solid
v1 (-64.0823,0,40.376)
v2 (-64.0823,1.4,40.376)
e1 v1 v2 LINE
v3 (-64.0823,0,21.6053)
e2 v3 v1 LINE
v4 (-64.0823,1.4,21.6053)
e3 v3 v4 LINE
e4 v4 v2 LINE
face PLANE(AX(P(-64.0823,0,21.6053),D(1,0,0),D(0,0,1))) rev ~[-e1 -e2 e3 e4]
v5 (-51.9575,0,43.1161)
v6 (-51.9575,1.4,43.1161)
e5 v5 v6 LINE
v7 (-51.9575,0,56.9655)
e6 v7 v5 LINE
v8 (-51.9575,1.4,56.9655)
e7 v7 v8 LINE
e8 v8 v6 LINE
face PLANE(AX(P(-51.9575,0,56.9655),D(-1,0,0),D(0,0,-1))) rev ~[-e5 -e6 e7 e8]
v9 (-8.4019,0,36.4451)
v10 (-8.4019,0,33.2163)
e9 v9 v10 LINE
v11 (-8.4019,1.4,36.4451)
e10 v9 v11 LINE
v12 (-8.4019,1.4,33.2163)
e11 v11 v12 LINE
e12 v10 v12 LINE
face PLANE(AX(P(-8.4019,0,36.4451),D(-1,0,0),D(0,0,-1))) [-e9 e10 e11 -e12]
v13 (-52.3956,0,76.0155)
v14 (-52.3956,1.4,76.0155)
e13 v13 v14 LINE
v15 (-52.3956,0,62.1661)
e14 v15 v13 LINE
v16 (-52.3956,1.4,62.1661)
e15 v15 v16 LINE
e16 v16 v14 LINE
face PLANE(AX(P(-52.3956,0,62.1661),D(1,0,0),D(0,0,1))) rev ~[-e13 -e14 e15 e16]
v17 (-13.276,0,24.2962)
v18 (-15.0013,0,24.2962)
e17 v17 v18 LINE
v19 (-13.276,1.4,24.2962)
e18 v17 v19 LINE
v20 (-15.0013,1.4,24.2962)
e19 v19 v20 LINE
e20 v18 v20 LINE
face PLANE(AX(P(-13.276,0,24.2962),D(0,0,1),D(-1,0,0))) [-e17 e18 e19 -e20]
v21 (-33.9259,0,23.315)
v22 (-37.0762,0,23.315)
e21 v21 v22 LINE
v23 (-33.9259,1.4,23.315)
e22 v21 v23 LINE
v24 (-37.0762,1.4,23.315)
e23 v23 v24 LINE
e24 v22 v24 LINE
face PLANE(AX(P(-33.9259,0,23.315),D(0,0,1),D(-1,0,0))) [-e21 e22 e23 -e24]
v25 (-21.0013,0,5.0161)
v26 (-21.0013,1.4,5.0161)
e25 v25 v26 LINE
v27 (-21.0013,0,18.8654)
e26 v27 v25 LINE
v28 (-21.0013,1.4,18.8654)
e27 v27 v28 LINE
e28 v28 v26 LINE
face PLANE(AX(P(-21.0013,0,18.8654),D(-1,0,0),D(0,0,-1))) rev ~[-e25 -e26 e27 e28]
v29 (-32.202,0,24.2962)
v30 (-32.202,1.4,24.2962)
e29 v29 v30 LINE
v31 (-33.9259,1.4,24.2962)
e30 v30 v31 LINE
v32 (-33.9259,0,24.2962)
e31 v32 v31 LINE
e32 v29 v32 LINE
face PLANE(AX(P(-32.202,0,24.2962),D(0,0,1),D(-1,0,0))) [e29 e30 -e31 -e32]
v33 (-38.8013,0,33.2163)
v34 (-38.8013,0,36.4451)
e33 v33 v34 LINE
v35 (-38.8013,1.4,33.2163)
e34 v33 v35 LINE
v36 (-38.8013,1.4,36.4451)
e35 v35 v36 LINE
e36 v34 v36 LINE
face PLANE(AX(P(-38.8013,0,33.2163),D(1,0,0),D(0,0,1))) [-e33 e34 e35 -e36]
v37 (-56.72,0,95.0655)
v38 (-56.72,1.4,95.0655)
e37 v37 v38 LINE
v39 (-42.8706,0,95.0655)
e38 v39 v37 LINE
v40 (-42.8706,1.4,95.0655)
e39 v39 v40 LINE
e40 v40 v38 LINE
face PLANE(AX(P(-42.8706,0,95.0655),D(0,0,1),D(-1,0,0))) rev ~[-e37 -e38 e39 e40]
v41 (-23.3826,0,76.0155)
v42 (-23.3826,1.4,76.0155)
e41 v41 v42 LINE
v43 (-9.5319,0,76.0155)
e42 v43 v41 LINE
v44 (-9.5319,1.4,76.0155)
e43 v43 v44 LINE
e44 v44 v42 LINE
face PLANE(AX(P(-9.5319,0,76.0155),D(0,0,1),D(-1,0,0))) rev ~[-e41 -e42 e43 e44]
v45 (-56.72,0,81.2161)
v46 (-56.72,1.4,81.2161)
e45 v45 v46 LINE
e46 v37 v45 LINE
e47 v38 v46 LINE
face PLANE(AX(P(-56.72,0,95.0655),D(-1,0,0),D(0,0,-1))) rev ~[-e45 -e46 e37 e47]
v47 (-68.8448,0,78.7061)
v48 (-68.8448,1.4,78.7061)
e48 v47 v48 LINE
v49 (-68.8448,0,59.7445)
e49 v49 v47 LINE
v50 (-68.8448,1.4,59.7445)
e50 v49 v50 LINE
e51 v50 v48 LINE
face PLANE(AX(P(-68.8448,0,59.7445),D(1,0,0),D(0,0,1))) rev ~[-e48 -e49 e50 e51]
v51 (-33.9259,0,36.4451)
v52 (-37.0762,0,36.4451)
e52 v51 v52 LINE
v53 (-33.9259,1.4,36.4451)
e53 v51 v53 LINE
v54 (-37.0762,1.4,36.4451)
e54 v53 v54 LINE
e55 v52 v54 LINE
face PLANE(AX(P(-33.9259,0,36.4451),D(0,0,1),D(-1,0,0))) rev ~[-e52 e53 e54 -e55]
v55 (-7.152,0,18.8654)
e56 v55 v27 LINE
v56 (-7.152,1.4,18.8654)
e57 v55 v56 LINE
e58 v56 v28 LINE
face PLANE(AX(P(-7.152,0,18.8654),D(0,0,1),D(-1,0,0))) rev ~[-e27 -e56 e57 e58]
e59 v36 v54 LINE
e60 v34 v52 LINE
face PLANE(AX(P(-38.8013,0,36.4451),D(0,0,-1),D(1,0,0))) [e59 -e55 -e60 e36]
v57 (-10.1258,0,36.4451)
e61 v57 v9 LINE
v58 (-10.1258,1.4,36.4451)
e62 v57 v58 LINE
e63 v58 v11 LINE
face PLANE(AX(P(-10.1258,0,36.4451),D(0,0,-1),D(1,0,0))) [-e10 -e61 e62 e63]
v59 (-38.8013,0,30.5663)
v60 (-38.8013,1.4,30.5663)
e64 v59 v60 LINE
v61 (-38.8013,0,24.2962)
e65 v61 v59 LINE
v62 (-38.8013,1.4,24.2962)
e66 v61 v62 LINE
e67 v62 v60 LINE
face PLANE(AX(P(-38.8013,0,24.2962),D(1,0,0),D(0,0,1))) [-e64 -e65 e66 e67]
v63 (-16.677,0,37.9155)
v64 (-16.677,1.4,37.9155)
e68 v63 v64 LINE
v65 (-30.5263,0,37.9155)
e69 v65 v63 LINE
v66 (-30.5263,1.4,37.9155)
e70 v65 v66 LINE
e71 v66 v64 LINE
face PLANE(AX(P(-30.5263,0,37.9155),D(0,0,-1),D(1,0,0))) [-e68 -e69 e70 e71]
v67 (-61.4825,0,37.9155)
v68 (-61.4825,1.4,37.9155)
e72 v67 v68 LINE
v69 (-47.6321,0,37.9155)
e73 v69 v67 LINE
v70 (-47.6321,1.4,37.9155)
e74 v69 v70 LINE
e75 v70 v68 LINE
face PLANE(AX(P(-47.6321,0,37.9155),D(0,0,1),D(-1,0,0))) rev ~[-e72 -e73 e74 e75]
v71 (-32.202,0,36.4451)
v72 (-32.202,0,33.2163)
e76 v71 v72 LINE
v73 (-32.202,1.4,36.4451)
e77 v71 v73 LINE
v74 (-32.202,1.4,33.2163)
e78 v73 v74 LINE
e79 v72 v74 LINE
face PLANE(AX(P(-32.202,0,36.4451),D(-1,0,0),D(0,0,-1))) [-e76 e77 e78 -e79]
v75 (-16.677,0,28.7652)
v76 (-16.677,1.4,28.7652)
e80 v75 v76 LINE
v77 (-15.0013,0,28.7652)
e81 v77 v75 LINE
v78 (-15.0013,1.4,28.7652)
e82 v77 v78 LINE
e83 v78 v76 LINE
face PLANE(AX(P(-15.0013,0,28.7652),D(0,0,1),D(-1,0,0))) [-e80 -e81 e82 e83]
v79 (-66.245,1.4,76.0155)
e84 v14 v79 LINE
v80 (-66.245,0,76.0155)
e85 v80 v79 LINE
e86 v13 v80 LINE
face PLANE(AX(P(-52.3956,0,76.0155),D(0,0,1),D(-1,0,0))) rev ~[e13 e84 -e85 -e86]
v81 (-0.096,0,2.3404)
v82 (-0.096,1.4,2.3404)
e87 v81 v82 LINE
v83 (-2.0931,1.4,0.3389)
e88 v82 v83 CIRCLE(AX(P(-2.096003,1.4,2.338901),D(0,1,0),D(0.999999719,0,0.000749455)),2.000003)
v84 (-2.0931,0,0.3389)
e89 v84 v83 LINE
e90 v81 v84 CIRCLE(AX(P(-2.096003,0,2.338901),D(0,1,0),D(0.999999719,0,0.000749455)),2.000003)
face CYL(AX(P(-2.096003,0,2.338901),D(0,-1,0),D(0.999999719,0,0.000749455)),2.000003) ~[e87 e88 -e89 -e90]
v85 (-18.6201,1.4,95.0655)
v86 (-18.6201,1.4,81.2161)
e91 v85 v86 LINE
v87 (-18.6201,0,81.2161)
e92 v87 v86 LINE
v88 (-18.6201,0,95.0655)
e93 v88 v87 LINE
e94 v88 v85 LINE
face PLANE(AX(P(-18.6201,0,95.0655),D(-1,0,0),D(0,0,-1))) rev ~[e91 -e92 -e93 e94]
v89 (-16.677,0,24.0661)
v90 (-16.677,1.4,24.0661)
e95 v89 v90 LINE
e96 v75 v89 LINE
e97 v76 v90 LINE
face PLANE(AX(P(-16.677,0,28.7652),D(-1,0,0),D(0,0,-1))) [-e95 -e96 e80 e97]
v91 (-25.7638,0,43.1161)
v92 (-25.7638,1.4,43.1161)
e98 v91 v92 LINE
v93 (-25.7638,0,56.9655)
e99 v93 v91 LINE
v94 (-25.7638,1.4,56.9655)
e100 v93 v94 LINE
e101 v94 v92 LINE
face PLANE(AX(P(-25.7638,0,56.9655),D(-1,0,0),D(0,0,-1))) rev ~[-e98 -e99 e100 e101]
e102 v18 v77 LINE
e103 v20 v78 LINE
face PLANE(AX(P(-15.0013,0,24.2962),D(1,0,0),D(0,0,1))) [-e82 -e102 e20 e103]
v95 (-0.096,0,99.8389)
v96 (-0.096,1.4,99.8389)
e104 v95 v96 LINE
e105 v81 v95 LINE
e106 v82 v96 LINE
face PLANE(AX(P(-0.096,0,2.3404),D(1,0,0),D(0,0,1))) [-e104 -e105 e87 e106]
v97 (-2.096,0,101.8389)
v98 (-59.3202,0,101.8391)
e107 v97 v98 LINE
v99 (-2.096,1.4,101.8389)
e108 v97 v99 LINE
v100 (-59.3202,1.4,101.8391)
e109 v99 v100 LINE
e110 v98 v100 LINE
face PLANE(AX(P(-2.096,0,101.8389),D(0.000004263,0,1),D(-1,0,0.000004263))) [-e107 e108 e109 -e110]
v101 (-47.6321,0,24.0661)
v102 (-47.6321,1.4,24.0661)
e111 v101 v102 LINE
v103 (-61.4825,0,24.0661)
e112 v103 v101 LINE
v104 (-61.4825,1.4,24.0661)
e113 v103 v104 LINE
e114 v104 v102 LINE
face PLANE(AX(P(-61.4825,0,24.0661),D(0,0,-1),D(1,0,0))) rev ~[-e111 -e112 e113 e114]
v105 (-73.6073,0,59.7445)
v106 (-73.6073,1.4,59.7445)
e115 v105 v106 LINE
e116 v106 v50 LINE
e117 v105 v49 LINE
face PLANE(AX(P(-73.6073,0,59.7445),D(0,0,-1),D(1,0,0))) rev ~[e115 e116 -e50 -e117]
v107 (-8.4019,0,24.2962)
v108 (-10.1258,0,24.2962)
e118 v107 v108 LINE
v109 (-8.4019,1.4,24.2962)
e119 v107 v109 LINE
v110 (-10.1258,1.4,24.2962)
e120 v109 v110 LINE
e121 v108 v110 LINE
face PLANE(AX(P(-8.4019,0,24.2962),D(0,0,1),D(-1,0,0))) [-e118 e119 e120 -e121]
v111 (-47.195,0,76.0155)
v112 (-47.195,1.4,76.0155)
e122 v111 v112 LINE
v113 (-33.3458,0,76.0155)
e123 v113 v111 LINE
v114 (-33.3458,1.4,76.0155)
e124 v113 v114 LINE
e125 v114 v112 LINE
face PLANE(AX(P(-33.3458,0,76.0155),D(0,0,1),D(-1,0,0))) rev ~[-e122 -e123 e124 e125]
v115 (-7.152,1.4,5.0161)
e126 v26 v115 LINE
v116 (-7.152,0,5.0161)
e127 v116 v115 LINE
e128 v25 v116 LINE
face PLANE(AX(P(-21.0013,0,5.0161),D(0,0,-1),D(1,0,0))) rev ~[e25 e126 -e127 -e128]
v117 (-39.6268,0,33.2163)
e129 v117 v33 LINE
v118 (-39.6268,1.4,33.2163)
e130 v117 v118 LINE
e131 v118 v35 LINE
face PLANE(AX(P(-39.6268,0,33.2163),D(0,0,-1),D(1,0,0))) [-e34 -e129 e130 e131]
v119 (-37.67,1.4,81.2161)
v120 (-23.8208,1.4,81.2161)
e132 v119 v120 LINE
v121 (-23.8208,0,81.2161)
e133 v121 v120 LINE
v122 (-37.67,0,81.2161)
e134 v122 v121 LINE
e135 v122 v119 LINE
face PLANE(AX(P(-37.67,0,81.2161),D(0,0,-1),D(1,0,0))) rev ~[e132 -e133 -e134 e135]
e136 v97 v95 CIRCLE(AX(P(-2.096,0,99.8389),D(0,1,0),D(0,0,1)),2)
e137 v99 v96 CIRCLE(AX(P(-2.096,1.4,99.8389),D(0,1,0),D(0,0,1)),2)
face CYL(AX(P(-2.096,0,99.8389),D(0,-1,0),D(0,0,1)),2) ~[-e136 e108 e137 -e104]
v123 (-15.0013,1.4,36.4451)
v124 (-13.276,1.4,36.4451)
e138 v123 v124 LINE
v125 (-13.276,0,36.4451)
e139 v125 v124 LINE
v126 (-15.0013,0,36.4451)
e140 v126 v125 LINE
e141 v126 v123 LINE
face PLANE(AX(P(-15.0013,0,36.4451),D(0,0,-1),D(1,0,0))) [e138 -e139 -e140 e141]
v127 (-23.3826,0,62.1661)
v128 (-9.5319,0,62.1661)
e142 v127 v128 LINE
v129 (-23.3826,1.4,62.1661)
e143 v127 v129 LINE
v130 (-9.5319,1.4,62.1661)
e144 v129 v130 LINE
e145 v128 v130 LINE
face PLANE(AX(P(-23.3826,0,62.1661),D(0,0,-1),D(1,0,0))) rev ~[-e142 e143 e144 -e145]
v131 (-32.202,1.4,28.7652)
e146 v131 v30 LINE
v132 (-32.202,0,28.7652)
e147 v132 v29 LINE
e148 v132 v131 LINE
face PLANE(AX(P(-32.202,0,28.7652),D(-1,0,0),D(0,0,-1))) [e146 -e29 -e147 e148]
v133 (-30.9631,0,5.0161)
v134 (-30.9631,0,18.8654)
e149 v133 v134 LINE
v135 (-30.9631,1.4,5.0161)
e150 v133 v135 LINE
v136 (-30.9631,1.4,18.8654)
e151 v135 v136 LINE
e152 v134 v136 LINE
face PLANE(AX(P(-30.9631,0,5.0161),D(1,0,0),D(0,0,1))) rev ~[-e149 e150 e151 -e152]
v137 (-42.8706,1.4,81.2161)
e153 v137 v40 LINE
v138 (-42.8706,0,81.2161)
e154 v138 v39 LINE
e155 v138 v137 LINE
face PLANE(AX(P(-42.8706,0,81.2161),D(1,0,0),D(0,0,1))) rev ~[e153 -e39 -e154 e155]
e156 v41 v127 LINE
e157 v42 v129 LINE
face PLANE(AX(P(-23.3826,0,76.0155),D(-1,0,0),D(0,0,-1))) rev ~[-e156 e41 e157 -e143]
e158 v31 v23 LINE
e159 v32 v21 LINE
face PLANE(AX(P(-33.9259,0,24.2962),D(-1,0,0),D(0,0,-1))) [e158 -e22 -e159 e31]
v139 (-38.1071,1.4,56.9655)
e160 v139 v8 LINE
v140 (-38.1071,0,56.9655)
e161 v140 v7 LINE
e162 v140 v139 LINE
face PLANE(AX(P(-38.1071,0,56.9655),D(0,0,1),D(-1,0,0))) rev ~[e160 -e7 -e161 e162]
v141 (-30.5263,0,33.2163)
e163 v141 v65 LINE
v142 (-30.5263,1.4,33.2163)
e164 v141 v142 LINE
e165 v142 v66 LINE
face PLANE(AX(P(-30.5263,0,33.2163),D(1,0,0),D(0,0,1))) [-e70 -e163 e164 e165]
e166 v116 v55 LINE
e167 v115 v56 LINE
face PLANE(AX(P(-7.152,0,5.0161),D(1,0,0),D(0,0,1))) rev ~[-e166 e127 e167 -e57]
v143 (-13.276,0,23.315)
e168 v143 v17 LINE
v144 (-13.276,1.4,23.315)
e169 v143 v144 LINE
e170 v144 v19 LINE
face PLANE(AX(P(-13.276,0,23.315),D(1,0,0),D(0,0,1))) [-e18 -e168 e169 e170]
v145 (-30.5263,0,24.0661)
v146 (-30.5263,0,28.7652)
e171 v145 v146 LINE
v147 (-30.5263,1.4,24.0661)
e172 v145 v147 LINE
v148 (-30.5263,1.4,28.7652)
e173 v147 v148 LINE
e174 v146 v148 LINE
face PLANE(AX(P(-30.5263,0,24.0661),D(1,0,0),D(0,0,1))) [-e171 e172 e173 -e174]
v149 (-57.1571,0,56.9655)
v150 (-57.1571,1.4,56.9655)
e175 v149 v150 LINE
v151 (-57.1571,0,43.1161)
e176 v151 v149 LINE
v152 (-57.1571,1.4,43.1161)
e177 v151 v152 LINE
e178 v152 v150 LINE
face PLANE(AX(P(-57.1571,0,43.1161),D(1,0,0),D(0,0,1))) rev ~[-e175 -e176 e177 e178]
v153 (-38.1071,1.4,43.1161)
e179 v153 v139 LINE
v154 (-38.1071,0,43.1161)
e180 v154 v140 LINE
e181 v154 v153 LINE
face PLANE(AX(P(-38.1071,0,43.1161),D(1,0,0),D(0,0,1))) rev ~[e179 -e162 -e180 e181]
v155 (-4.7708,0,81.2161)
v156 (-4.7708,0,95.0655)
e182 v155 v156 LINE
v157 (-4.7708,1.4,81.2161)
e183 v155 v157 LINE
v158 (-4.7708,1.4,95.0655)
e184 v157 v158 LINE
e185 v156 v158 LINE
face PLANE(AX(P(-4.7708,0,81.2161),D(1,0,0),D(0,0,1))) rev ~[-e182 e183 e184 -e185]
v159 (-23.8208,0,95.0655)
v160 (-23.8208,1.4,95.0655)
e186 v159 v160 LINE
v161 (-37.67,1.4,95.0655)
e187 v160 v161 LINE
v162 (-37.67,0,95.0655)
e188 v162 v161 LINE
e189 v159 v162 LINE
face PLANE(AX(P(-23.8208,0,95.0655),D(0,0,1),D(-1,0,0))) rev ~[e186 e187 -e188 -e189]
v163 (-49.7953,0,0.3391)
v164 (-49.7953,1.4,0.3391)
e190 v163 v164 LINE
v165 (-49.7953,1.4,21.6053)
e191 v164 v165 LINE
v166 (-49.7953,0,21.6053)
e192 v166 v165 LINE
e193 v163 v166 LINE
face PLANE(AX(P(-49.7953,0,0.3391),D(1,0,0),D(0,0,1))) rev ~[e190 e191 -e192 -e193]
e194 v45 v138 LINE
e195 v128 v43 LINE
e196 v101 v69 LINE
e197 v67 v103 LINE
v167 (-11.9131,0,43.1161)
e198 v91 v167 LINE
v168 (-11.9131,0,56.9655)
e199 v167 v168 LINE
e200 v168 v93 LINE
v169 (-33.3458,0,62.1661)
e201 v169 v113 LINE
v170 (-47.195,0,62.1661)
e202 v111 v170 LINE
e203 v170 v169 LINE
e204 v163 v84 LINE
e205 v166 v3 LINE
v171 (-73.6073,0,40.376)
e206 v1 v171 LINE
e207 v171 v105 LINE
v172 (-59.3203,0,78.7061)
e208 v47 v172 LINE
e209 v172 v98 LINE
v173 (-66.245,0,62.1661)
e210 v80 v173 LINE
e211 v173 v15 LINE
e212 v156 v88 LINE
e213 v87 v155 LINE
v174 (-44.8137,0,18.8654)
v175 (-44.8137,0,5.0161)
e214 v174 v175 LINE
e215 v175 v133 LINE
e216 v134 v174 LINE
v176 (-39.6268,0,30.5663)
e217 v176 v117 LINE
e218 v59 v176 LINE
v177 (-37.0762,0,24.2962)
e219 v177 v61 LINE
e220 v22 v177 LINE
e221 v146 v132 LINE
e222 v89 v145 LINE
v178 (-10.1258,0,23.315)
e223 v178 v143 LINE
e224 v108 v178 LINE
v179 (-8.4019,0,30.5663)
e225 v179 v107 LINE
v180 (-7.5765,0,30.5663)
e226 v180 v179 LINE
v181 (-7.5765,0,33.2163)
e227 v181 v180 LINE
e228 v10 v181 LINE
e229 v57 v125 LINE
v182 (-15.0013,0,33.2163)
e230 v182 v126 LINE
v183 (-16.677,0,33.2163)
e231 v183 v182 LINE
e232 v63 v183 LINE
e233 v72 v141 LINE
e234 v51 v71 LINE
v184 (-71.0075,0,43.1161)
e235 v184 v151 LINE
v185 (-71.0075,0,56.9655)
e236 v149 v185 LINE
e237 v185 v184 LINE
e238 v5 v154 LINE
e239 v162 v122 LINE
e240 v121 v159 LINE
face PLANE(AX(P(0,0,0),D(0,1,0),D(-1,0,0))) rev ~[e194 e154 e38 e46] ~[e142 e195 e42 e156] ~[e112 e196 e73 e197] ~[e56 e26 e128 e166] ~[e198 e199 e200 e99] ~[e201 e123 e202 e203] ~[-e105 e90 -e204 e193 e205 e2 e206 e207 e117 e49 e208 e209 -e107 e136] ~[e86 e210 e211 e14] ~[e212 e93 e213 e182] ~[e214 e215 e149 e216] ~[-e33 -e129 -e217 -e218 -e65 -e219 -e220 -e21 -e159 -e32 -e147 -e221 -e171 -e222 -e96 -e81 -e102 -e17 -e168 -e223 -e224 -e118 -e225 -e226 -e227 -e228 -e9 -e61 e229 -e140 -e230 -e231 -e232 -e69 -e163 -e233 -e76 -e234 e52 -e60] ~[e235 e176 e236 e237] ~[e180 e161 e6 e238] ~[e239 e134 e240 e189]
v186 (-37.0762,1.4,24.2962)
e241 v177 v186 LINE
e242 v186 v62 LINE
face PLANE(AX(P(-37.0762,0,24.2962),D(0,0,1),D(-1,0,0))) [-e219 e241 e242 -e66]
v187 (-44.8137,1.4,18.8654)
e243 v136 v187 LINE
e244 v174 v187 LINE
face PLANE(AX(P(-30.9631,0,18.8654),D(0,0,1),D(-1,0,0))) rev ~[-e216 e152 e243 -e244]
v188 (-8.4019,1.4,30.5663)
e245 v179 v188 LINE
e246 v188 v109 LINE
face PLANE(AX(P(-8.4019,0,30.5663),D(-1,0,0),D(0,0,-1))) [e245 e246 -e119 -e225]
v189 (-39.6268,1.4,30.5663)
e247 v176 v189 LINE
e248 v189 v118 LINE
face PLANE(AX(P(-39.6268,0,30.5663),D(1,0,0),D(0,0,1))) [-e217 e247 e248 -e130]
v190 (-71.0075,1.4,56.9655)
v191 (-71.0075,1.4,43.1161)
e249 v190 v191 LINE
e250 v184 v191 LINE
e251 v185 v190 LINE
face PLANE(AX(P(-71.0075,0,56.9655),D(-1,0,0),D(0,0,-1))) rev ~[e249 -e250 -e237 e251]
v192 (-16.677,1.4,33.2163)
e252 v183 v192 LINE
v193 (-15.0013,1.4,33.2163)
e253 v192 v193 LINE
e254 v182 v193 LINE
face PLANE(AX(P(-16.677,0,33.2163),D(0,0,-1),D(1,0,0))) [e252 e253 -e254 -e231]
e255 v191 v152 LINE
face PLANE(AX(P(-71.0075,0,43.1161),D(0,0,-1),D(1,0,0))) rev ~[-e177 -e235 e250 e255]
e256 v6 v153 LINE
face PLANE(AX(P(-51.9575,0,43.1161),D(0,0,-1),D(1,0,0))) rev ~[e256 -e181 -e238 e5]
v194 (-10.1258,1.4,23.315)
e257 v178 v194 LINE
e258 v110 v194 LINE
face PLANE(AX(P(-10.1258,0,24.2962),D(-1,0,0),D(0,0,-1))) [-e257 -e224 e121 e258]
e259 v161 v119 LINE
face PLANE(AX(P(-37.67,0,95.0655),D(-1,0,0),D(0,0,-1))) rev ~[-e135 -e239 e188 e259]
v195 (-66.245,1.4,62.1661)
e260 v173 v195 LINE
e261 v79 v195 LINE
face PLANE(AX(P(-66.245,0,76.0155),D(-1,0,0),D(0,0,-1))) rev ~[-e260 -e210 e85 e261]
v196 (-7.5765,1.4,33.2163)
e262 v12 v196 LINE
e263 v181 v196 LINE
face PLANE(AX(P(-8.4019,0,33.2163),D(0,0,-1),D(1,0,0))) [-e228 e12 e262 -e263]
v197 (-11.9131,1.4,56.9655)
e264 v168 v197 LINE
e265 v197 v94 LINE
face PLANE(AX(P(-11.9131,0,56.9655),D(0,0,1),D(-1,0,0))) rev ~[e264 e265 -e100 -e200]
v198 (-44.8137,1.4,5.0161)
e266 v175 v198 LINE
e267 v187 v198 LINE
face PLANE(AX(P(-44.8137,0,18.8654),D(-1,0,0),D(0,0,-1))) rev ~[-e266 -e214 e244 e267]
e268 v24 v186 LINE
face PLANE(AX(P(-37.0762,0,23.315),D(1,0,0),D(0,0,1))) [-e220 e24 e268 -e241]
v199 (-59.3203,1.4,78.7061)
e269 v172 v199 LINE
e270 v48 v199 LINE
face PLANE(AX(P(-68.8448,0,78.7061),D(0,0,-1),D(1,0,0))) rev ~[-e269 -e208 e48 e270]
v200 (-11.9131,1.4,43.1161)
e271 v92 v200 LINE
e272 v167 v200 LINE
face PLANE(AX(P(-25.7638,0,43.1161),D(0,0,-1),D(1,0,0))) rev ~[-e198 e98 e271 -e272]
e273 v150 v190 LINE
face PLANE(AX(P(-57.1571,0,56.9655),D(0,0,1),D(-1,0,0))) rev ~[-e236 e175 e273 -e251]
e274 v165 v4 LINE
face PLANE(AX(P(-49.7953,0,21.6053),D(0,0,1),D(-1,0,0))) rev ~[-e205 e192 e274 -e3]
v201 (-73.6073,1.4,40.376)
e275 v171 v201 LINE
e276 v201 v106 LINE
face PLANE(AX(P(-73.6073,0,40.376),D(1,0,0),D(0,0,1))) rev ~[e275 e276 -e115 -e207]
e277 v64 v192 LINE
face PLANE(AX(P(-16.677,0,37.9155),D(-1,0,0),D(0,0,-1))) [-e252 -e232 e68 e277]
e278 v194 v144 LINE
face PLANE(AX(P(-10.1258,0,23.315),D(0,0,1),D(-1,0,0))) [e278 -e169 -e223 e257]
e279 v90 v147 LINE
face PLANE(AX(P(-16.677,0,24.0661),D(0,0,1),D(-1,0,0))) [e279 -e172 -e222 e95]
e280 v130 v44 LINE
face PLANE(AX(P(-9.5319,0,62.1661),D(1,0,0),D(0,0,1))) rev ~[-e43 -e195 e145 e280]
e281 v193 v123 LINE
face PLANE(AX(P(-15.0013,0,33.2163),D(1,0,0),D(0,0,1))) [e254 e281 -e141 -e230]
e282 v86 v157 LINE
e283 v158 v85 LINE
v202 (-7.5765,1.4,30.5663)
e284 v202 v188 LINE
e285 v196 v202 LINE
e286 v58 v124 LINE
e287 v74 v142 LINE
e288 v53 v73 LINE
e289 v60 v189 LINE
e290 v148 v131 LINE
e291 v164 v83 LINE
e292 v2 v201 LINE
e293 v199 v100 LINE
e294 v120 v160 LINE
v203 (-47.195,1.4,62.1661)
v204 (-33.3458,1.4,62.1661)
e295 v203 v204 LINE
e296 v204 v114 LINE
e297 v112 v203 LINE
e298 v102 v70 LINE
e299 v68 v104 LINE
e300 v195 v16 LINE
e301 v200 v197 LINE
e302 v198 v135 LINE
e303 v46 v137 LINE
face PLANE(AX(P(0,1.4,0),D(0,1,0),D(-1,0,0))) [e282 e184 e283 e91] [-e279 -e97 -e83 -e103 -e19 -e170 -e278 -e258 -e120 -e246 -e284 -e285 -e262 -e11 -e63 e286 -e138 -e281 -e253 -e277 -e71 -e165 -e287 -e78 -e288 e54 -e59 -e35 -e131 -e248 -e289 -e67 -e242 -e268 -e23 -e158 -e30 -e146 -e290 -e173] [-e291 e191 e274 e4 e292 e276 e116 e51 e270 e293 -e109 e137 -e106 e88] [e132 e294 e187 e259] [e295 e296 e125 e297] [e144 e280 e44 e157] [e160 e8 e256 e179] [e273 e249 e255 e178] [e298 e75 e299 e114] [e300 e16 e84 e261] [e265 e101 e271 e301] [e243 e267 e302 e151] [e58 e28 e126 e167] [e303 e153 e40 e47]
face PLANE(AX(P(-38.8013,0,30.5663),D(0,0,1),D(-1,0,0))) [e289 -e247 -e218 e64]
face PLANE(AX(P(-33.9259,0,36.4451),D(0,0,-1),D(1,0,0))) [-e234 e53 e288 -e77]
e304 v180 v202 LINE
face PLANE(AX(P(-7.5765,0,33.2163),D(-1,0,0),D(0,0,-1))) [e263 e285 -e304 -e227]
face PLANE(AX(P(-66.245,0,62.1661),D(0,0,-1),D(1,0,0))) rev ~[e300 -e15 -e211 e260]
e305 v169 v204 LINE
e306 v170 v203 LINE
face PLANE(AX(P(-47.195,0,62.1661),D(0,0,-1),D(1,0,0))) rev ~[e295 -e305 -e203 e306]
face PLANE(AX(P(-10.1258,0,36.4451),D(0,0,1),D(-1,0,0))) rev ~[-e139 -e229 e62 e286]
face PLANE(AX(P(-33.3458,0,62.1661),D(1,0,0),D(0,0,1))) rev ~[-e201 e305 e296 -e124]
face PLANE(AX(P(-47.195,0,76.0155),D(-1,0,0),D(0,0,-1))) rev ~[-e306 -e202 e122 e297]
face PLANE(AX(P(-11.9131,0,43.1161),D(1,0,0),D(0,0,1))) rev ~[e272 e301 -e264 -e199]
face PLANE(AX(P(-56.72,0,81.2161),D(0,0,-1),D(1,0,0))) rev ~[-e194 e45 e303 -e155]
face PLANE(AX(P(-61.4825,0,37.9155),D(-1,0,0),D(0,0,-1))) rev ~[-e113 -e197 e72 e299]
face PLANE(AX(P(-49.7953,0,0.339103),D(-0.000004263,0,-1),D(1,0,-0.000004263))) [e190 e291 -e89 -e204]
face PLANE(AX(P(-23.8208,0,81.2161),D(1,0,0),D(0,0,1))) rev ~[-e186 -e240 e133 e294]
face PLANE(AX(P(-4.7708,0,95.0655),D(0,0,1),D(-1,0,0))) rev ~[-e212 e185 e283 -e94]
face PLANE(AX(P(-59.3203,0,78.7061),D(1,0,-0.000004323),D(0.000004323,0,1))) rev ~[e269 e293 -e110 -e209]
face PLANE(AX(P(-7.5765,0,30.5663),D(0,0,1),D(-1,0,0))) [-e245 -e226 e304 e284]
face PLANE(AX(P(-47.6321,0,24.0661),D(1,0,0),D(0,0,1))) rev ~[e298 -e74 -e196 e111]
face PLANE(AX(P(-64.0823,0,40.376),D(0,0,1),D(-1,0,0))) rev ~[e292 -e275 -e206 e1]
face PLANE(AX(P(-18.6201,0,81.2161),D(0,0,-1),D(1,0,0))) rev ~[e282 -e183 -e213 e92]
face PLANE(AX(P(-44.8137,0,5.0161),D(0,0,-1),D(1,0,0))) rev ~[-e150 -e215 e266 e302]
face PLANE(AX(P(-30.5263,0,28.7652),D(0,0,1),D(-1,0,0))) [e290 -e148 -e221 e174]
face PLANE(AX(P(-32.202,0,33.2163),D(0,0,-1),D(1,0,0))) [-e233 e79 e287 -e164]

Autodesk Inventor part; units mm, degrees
ref_plane "YZ Plane" through (0, 0, 0) normal (1, 0, 0) x (0, 1, 0)
ref_plane "XZ Plane" through (0, 0, 0) normal (0, 1, 0) x (-1, 0, 0)
ref_plane "XY Plane" through (0, 0, 0) normal (0, 0, 1) x (1, 0, 0)
sketch "Sketch1" plane through (0, 0, 0) normal (0, 1, 0) x (-1, 0, 0)
  line L0 (309.0479, 99.8402) -> (309.0479, 2.3404)
  line L1 (307.045, 0.3402) -> (2.0931, 0.3389)
  line L2 (0.096, 2.3404) -> (0.096, 99.8389)
  line L3 (2.096, 101.8389) -> (307.045, 101.8402)
  line L4 (126.213, 18.8654) -> (126.213, 14.1663)
  line L5 (126.213, 14.1663) -> (86.4387, 14.1663)
  line L6 (86.4387, 14.1663) -> (86.4387, 17.395)
  line L7 (86.4387, 17.395) -> (84.7136, 17.395)
  line L8 (81.5633, 17.395) -> (79.8382, 17.395)
  line L9 (79.8382, 17.395) -> (79.8382, 14.1663)
  line L10 (79.8382, 14.1663) -> (79.0141, 14.1663)
  line L11 (79.0141, 14.1663) -> (79.0141, 11.5163)
  line L12 (79.0141, 11.5163) -> (79.8382, 11.5163)
  line L13 (79.8382, 11.5163) -> (79.8382, 5.2462)
  line L14 (79.8382, 5.2462) -> (81.5633, 5.2462)
  line L15 (81.5633, 5.2462) -> (81.5633, 4.265)
  line L16 (81.5633, 4.265) -> (84.7136, 4.265)
  line L17 (84.7136, 4.265) -> (84.7136, 5.2462)
  line L18 (84.7136, 5.2462) -> (86.4387, 5.2462)
  line L19 (86.4387, 5.2462) -> (86.4387, 9.7166)
  line L20 (86.4387, 9.7166) -> (126.213, 9.7166)
  line L21 (126.213, 9.7166) -> (126.213, 5.0161)
  line L22 (126.213, 5.0161) -> (140.064, 5.0161)
  line L23 (140.064, 5.0161) -> (140.064, 9.7166)
  line L24 (140.064, 9.7166) -> (179.838, 9.7166)
  line L25 (179.838, 9.7166) -> (179.838, 5.2462)
  line L26 (179.838, 5.2462) -> (181.563, 5.2462)
  line L27 (181.563, 5.2462) -> (181.563, 4.265)
  line L28 (181.563, 4.265) -> (184.714, 4.265)
  line L29 (184.714, 4.265) -> (184.714, 5.2462)
  line L30 (184.714, 5.2462) -> (186.439, 5.2462)
  line L31 (186.439, 5.2462) -> (186.439, 11.5163)
  line L32 (186.439, 11.5163) -> (187.263, 11.5163)
  line L33 (187.263, 11.5163) -> (187.263, 14.1663)
  line L34 (187.263, 14.1663) -> (186.439, 14.1663)
  line L35 (186.439, 14.1663) -> (186.439, 17.395)
  line L36 (186.439, 17.395) -> (184.714, 17.395)
  line L37 (181.563, 17.395) -> (179.838, 17.395)
  line L38 (179.838, 17.395) -> (179.838, 14.1663)
  line L39 (179.838, 14.1663) -> (140.064, 14.1663)
  line L40 (140.064, 14.1663) -> (140.064, 18.8654)
  line L41 (140.064, 18.8654) -> (126.213, 18.8654)
  line L42 (7.152, 18.8654) -> (21.0013, 18.8654)
  line L43 (21.0013, 18.8654) -> (21.0013, 5.0161)
  line L44 (21.0013, 5.0161) -> (7.152, 5.0161)
  line L45 (7.152, 5.0161) -> (7.152, 18.8654)
  line L46 (30.9631, 18.8654) -> (44.8137, 18.8654)
  line L47 (44.8137, 18.8654) -> (44.8137, 5.0161)
  line L48 (44.8137, 5.0161) -> (30.9631, 5.0161)
  line L49 (30.9631, 5.0161) -> (30.9631, 18.8654)
  line L50 (54.7769, 18.8654) -> (68.6262, 18.8654)
  line L51 (68.6262, 18.8654) -> (68.6262, 5.0161)
  line L52 (68.6262, 5.0161) -> (54.7769, 5.0161)
  line L53 (54.7769, 5.0161) -> (54.7769, 18.8654)
  line L54 (197.652, 18.8654) -> (211.501, 18.8654)
  line L55 (211.501, 18.8654) -> (211.501, 5.0161)
  line L56 (211.501, 5.0161) -> (197.652, 5.0161)
  line L57 (197.652, 5.0161) -> (197.652, 18.8654)
  line L58 (221.463, 18.8654) -> (235.314, 18.8654)
  line L59 (235.314, 18.8654) -> (235.314, 5.0161)
  line L60 (235.314, 5.0161) -> (221.463, 5.0161)
  line L61 (221.463, 5.0161) -> (221.463, 18.8654)
  line L62 (252.421, 18.8654) -> (266.27, 18.8654)
  line L63 (266.27, 18.8654) -> (266.27, 5.0161)
  line L64 (266.27, 5.0161) -> (252.421, 5.0161)
  line L65 (252.421, 5.0161) -> (252.421, 18.8654)
  line L66 (271.471, 18.8654) -> (285.32, 18.8654)
  line L67 (285.32, 18.8654) -> (285.32, 5.0161)
  line L68 (285.32, 5.0161) -> (271.471, 5.0161)
  line L69 (271.471, 5.0161) -> (271.471, 18.8654)
  line L70 (290.521, 18.8654) -> (304.37, 18.8654)
  line L71 (304.37, 18.8654) -> (304.37, 5.0161)
  line L72 (304.37, 5.0161) -> (290.521, 5.0161)
  line L73 (290.521, 5.0161) -> (290.521, 18.8654)
  line L74 (16.677, 37.9155) -> (16.677, 33.2163)
  line L75 (16.677, 33.2163) -> (15.0013, 33.2163)
  line L76 (15.0013, 33.2163) -> (15.0013, 36.4451)
  line L77 (15.0013, 36.4451) -> (13.276, 36.4451)
  line L78 (10.1258, 36.4451) -> (8.4019, 36.4451)
  line L79 (8.4019, 36.4451) -> (8.4019, 33.2163)
  line L80 (8.4019, 33.2163) -> (7.5765, 33.2163)
  line L81 (7.5765, 33.2163) -> (7.5765, 30.5663)
  line L82 (7.5765, 30.5663) -> (8.4019, 30.5663)
  line L83 (8.4019, 30.5663) -> (8.4019, 24.2962)
  line L84 (8.4019, 24.2962) -> (10.1258, 24.2962)
  line L85 (10.1258, 24.2962) -> (10.1258, 23.315)
  line L86 (10.1258, 23.315) -> (13.276, 23.315)
  line L87 (13.276, 23.315) -> (13.276, 24.2962)
  line L88 (13.276, 24.2962) -> (15.0013, 24.2962)
  line L89 (15.0013, 24.2962) -> (15.0013, 28.7652)
  line L90 (15.0013, 28.7652) -> (16.677, 28.7652)
  line L91 (16.677, 28.7652) -> (16.677, 24.0661)
  line L92 (16.677, 24.0661) -> (30.5263, 24.0661)
  line L93 (30.5263, 24.0661) -> (30.5263, 28.7652)
  line L94 (30.5263, 28.7652) -> (32.202, 28.7652)
  line L95 (32.202, 28.7652) -> (32.202, 24.2962)
  line L96 (32.202, 24.2962) -> (33.9259, 24.2962)
  line L97 (33.9259, 24.2962) -> (33.9259, 23.315)
  line L98 (33.9259, 23.315) -> (37.0762, 23.315)
  line L99 (37.0762, 23.315) -> (37.0762, 24.2962)
  line L100 (37.0762, 24.2962) -> (38.8013, 24.2962)
  line L101 (38.8013, 24.2962) -> (38.8013, 30.5663)
  line L102 (38.8013, 30.5663) -> (39.6268, 30.5663)
  line L103 (39.6268, 30.5663) -> (39.6268, 33.2163)
  line L104 (39.6268, 33.2163) -> (38.8013, 33.2163)
  line L105 (38.8013, 33.2163) -> (38.8013, 36.4451)
  line L106 (38.8013, 36.4451) -> (37.0762, 36.4451)
  line L107 (33.9259, 36.4451) -> (32.202, 36.4451)
  line L108 (32.202, 36.4451) -> (32.202, 33.2163)
  line L109 (32.202, 33.2163) -> (30.5263, 33.2163)
  line L110 (30.5263, 33.2163) -> (30.5263, 37.9155)
  line L111 (30.5263, 37.9155) -> (16.677, 37.9155)
  line L112 (47.6321, 37.9155) -> (61.4825, 37.9155)
  line L113 (61.4825, 37.9155) -> (61.4825, 24.0661)
  line L114 (61.4825, 24.0661) -> (47.6321, 24.0661)
  line L115 (47.6321, 24.0661) -> (47.6321, 37.9155)
  line L116 (66.6821, 37.9155) -> (80.5325, 37.9155)
  line L117 (80.5325, 37.9155) -> (80.5325, 24.0661)
  line L118 (80.5325, 24.0661) -> (66.6821, 24.0661)
  line L119 (66.6821, 24.0661) -> (66.6821, 37.9155)
  line L120 (85.7321, 37.9155) -> (99.5825, 37.9155)
  line L121 (99.5825, 37.9155) -> (99.5825, 24.0661)
  line L122 (99.5825, 24.0661) -> (85.7321, 24.0661)
  line L123 (85.7321, 24.0661) -> (85.7321, 37.9155)
  line L124 (104.782, 37.9155) -> (118.632, 37.9155)
  line L125 (118.632, 37.9155) -> (118.632, 24.0661)
  line L126 (118.632, 24.0661) -> (104.782, 24.0661)
  line L127 (104.782, 24.0661) -> (104.782, 37.9155)
  line L128 (123.832, 37.9155) -> (137.682, 37.9155)
  line L129 (137.682, 37.9155) -> (137.682, 24.0661)
  line L130 (137.682, 24.0661) -> (123.832, 24.0661)
  line L131 (123.832, 24.0661) -> (123.832, 37.9155)
  line L132 (142.882, 37.9155) -> (156.732, 37.9155)
  line L133 (156.732, 37.9155) -> (156.732, 24.0661)
  line L134 (156.732, 24.0661) -> (142.882, 24.0661)
  line L135 (142.882, 24.0661) -> (142.882, 37.9155)
  line L136 (161.932, 37.9155) -> (175.782, 37.9155)
  line L137 (175.782, 37.9155) -> (175.782, 24.0661)
  line L138 (175.782, 24.0661) -> (161.932, 24.0661)
  line L139 (161.932, 24.0661) -> (161.932, 37.9155)
  line L140 (180.982, 37.9155) -> (194.832, 37.9155)
  line L141 (194.832, 37.9155) -> (194.832, 24.0661)
  line L142 (194.832, 24.0661) -> (180.982, 24.0661)
  line L143 (180.982, 24.0661) -> (180.982, 37.9155)
  line L144 (200.032, 37.9155) -> (213.882, 37.9155)
  line L145 (213.882, 37.9155) -> (213.882, 24.0661)
  line L146 (213.882, 24.0661) -> (200.032, 24.0661)
  line L147 (200.032, 24.0661) -> (200.032, 37.9155)
  line L148 (219.082, 37.9155) -> (232.932, 37.9155)
  line L149 (232.932, 37.9155) -> (232.932, 24.0661)
  line L150 (232.932, 24.0661) -> (219.082, 24.0661)
  line L151 (219.082, 24.0661) -> (219.082, 37.9155)
  line L152 (245.277, 37.9155) -> (259.126, 37.9155)
  line L153 (259.126, 37.9155) -> (259.126, 24.0661)
  line L154 (259.126, 24.0661) -> (245.277, 24.0661)
  line L155 (245.277, 24.0661) -> (245.277, 37.9155)
  line L156 (271.471, 37.9155) -> (285.32, 37.9155)
  line L157 (285.32, 37.9155) -> (285.32, 24.0661)
  line L158 (285.32, 24.0661) -> (271.471, 24.0661)
  line L159 (271.471, 24.0661) -> (271.471, 37.9155)
  line L160 (290.521, 37.9155) -> (304.37, 37.9155)
  line L161 (304.37, 37.9155) -> (304.37, 24.0661)
  line L162 (304.37, 24.0661) -> (290.521, 24.0661)
  line L163 (290.521, 24.0661) -> (290.521, 37.9155)
  line L164 (259.563, 56.9655) -> (259.563, 52.2661)
  line L165 (259.563, 52.2661) -> (257.889, 52.2661)
  line L166 (257.889, 52.2661) -> (257.889, 55.4951)
  line L167 (257.889, 55.4951) -> (256.162, 55.4951)
  line L168 (253.013, 55.4951) -> (251.288, 55.4951)
  line L169 (251.288, 55.4951) -> (251.288, 52.2661)
  line L170 (251.288, 52.2661) -> (250.464, 52.2661)
  line L171 (250.464, 52.2661) -> (250.464, 49.6164)
  line L172 (250.464, 49.6164) -> (251.288, 49.6164)
  line L173 (251.288, 49.6164) -> (251.288, 43.3462)
  line L174 (251.288, 43.3462) -> (253.013, 43.3462)
  line L175 (253.013, 43.3462) -> (253.013, 42.3651)
  line L176 (253.013, 42.3651) -> (256.162, 42.3651)
  line L177 (256.162, 42.3651) -> (256.162, 43.3462)
  line L178 (256.162, 43.3462) -> (257.889, 43.3462)
  line L179 (257.889, 43.3462) -> (257.889, 47.8151)
  line L180 (257.889, 47.8151) -> (259.563, 47.8151)
  line L181 (259.563, 47.8151) -> (259.563, 43.1161)
  line L182 (259.563, 43.1161) -> (273.414, 43.1161)
  line L183 (273.414, 43.1161) -> (273.414, 47.8151)
  line L184 (273.414, 47.8151) -> (275.088, 47.8151)
  line L185 (275.088, 47.8151) -> (275.088, 43.3462)
  line L186 (275.088, 43.3462) -> (276.813, 43.3462)
  line L187 (276.813, 43.3462) -> (276.813, 42.3651)
  line L188 (276.813, 42.3651) -> (279.964, 42.3651)
  line L189 (279.964, 42.3651) -> (279.964, 43.3462)
  line L190 (279.964, 43.3462) -> (281.689, 43.3462)
  line L191 (281.689, 43.3462) -> (281.689, 49.6164)
  line L192 (281.689, 49.6164) -> (282.513, 49.6164)
  line L193 (282.513, 49.6164) -> (282.513, 52.2661)
  line L194 (282.513, 52.2661) -> (281.689, 52.2661)
  line L195 (281.689, 52.2661) -> (281.689, 55.4951)
  line L196 (281.689, 55.4951) -> (279.964, 55.4951)
  line L197 (276.813, 55.4951) -> (275.088, 55.4951)
  line L198 (275.088, 55.4951) -> (275.088, 52.2661)
  line L199 (275.088, 52.2661) -> (273.414, 52.2661)
  line L200 (273.414, 52.2661) -> (273.414, 56.9655)
  line L201 (273.414, 56.9655) -> (259.563, 56.9655)
  line L202 (11.9131, 56.9655) -> (25.7638, 56.9655)
  line L203 (25.7638, 56.9655) -> (25.7638, 43.1161)
  line L204 (25.7638, 43.1161) -> (11.9131, 43.1161)
  line L205 (11.9131, 43.1161) -> (11.9131, 56.9655)
  line L206 (38.1071, 56.9655) -> (51.9575, 56.9655)
  line L207 (51.9575, 56.9655) -> (51.9575, 43.1161)
  line L208 (51.9575, 43.1161) -> (38.1071, 43.1161)
  line L209 (38.1071, 43.1161) -> (38.1071, 56.9655)
  line L210 (57.1571, 56.9655) -> (71.0075, 56.9655)
  line L211 (71.0075, 56.9655) -> (71.0075, 43.1161)
  line L212 (71.0075, 43.1161) -> (57.1571, 43.1161)
  line L213 (57.1571, 43.1161) -> (57.1571, 56.9655)
  line L214 (76.2071, 56.9655) -> (90.0575, 56.9655)
  line L215 (90.0575, 56.9655) -> (90.0575, 43.1161)
  line L216 (90.0575, 43.1161) -> (76.2071, 43.1161)
  line L217 (76.2071, 43.1161) -> (76.2071, 56.9655)
  line L218 (95.2571, 56.9655) -> (109.107, 56.9655)
  line L219 (109.107, 56.9655) -> (109.107, 43.1161)
  line L220 (109.107, 43.1161) -> (95.2571, 43.1161)
  line L221 (95.2571, 43.1161) -> (95.2571, 56.9655)
  line L222 (114.307, 56.9655) -> (128.157, 56.9655)
  line L223 (128.157, 56.9655) -> (128.157, 43.1161)
  line L224 (128.157, 43.1161) -> (114.307, 43.1161)
  line L225 (114.307, 43.1161) -> (114.307, 56.9655)
  line L226 (133.357, 56.9655) -> (147.207, 56.9655)
  line L227 (147.207, 56.9655) -> (147.207, 43.1161)
  line L228 (147.207, 43.1161) -> (133.357, 43.1161)
  line L229 (133.357, 43.1161) -> (133.357, 56.9655)
  line L230 (152.407, 56.9655) -> (166.257, 56.9655)
  line L231 (166.257, 56.9655) -> (166.257, 43.1161)
  line L232 (166.257, 43.1161) -> (152.407, 43.1161)
  line L233 (152.407, 43.1161) -> (152.407, 56.9655)
  line L234 (171.457, 56.9655) -> (185.307, 56.9655)
  line L235 (185.307, 56.9655) -> (185.307, 43.1161)
  line L236 (185.307, 43.1161) -> (171.457, 43.1161)
  line L237 (171.457, 43.1161) -> (171.457, 56.9655)
  line L238 (190.507, 56.9655) -> (204.357, 56.9655)
  line L239 (204.357, 56.9655) -> (204.357, 43.1161)
  line L240 (204.357, 43.1161) -> (190.507, 43.1161)
  line L241 (190.507, 43.1161) -> (190.507, 56.9655)
  line L242 (209.557, 56.9655) -> (223.407, 56.9655)
  line L243 (223.407, 56.9655) -> (223.407, 43.1161)
  line L244 (223.407, 43.1161) -> (209.557, 43.1161)
  line L245 (209.557, 43.1161) -> (209.557, 56.9655)
  line L246 (228.607, 56.9655) -> (242.457, 56.9655)
  line L247 (242.457, 56.9655) -> (242.457, 43.1161)
  line L248 (242.457, 43.1161) -> (228.607, 43.1161)
  line L249 (228.607, 43.1161) -> (228.607, 56.9655)
  line L250 (290.521, 56.9655) -> (304.37, 56.9655)
  line L251 (304.37, 56.9655) -> (304.37, 43.1161)
  line L252 (304.37, 43.1161) -> (290.521, 43.1161)
  line L253 (290.521, 43.1161) -> (290.521, 56.9655)
  line L254 (9.5319, 76.0155) -> (23.3826, 76.0155)
  line L255 (23.3826, 76.0155) -> (23.3826, 62.1661)
  line L256 (23.3826, 62.1661) -> (9.5319, 62.1661)
  line L257 (9.5319, 62.1661) -> (9.5319, 76.0155)
  line L258 (33.3458, 76.0155) -> (47.195, 76.0155)
  line L259 (47.195, 76.0155) -> (47.195, 62.1661)
  line L260 (47.195, 62.1661) -> (33.3458, 62.1661)
  line L261 (33.3458, 62.1661) -> (33.3458, 76.0155)
  line L262 (52.3956, 76.0155) -> (66.245, 76.0155)
  line L263 (66.245, 76.0155) -> (66.245, 62.1661)
  line L264 (66.245, 62.1661) -> (52.3956, 62.1661)
  line L265 (52.3956, 62.1661) -> (52.3956, 76.0155)
  line L266 (71.4456, 76.0155) -> (85.295, 76.0155)
  line L267 (85.295, 76.0155) -> (85.295, 62.1661)
  line L268 (85.295, 62.1661) -> (71.4456, 62.1661)
  line L269 (71.4456, 62.1661) -> (71.4456, 76.0155)
  line L270 (90.4946, 76.0155) -> (104.345, 76.0155)
  line L271 (104.345, 76.0155) -> (104.345, 62.1661)
  line L272 (104.345, 62.1661) -> (90.4946, 62.1661)
  line L273 (90.4946, 62.1661) -> (90.4946, 76.0155)
  line L274 (109.545, 76.0155) -> (123.395, 76.0155)
  line L275 (123.395, 76.0155) -> (123.395, 62.1661)
  line L276 (123.395, 62.1661) -> (109.545, 62.1661)
  line L277 (109.545, 62.1661) -> (109.545, 76.0155)
  line L278 (128.595, 76.0155) -> (142.445, 76.0155)
  line L279 (142.445, 76.0155) -> (142.445, 62.1661)
  line L280 (142.445, 62.1661) -> (128.595, 62.1661)
  line L281 (128.595, 62.1661) -> (128.595, 76.0155)
  line L282 (147.645, 76.0155) -> (161.495, 76.0155)
  line L283 (161.495, 76.0155) -> (161.495, 62.1661)
  line L284 (161.495, 62.1661) -> (147.645, 62.1661)
  line L285 (147.645, 62.1661) -> (147.645, 76.0155)
  line L286 (166.696, 76.0155) -> (180.545, 76.0155)
  line L287 (180.545, 76.0155) -> (180.545, 62.1661)
  line L288 (180.545, 62.1661) -> (166.696, 62.1661)
  line L289 (166.696, 62.1661) -> (166.696, 76.0155)
  line L290 (185.746, 76.0155) -> (199.595, 76.0155)
  line L291 (199.595, 76.0155) -> (199.595, 62.1661)
  line L292 (199.595, 62.1661) -> (185.746, 62.1661)
  line L293 (185.746, 62.1661) -> (185.746, 76.0155)
  line L294 (204.796, 76.0155) -> (218.645, 76.0155)
  line L295 (218.645, 76.0155) -> (218.645, 62.1661)
  line L296 (218.645, 62.1661) -> (204.796, 62.1661)
  line L297 (204.796, 62.1661) -> (204.796, 76.0155)
  line L298 (223.846, 76.0155) -> (237.695, 76.0155)
  line L299 (237.695, 76.0155) -> (237.695, 62.1661)
  line L300 (237.695, 62.1661) -> (223.846, 62.1661)
  line L301 (223.846, 62.1661) -> (223.846, 76.0155)
  line L302 (242.896, 76.0155) -> (256.745, 76.0155)
  line L303 (256.745, 76.0155) -> (256.745, 62.1661)
  line L304 (256.745, 62.1661) -> (242.896, 62.1661)
  line L305 (242.896, 62.1661) -> (242.896, 76.0155)
  line L306 (266.707, 76.0155) -> (280.557, 76.0155)
  line L307 (280.557, 76.0155) -> (280.557, 62.1661)
  line L308 (280.557, 62.1661) -> (266.707, 62.1661)
  line L309 (266.707, 62.1661) -> (266.707, 76.0155)
  line L310 (290.521, 76.0155) -> (304.37, 76.0155)
  line L311 (304.37, 76.0155) -> (304.37, 62.1661)
  line L312 (304.37, 62.1661) -> (290.521, 62.1661)
  line L313 (290.521, 62.1661) -> (290.521, 76.0155)
  line L314 (261.946, 95.0655) -> (261.946, 90.3661)
  line L315 (261.946, 90.3661) -> (260.27, 90.3661)
  line L316 (260.27, 90.3661) -> (260.27, 93.5951)
  line L317 (260.27, 93.5951) -> (258.546, 93.5951)
  line L318 (255.396, 93.5951) -> (253.67, 93.5951)
  line L319 (253.67, 93.5951) -> (253.67, 90.3661)
  line L320 (253.67, 90.3661) -> (252.845, 90.3661)
  line L321 (252.845, 90.3661) -> (252.845, 87.7164)
  line L322 (252.845, 87.7164) -> (253.67, 87.7164)
  line L323 (253.67, 87.7164) -> (253.67, 81.4462)
  line L324 (253.67, 81.4462) -> (255.396, 81.4462)
  line L325 (255.396, 81.4462) -> (255.396, 80.4651)
  line L326 (255.396, 80.4651) -> (258.546, 80.4651)
  line L327 (258.546, 80.4651) -> (258.546, 81.4462)
  line L328 (258.546, 81.4462) -> (260.27, 81.4462)
  line L329 (260.27, 81.4462) -> (260.27, 85.9151)
  line L330 (260.27, 85.9151) -> (261.946, 85.9151)
  line L331 (261.946, 85.9151) -> (261.946, 81.2161)
  line L332 (261.946, 81.2161) -> (275.795, 81.2161)
  line L333 (275.795, 81.2161) -> (275.795, 85.9151)
  line L334 (275.795, 85.9151) -> (277.471, 85.9151)
  line L335 (277.471, 85.9151) -> (277.471, 81.4462)
  line L336 (277.471, 81.4462) -> (279.196, 81.4462)
  line L337 (279.196, 81.4462) -> (279.196, 80.4651)
  line L338 (279.196, 80.4651) -> (282.345, 80.4651)
  line L339 (282.345, 80.4651) -> (282.345, 81.4462)
  line L340 (282.345, 81.4462) -> (284.07, 81.4462)
  line L341 (284.07, 81.4462) -> (284.07, 87.7164)
  line L342 (284.07, 87.7164) -> (284.896, 87.7164)
  line L343 (284.896, 87.7164) -> (284.896, 90.3661)
  line L344 (284.896, 90.3661) -> (284.07, 90.3661)
  line L345 (284.07, 90.3661) -> (284.07, 93.5951)
  line L346 (284.07, 93.5951) -> (282.345, 93.5951)
  line L347 (279.196, 93.5951) -> (277.471, 93.5951)
  line L348 (277.471, 93.5951) -> (277.471, 90.3661)
  line L349 (277.471, 90.3661) -> (275.795, 90.3661)
  line L350 (275.795, 90.3661) -> (275.795, 95.0655)
  line L351 (275.795, 95.0655) -> (261.946, 95.0655)
  line L352 (4.7708, 95.0655) -> (18.6201, 95.0655)
  line L353 (18.6201, 95.0655) -> (18.6201, 81.2161)
  line L354 (18.6201, 81.2161) -> (4.7708, 81.2161)
  line L355 (4.7708, 81.2161) -> (4.7708, 95.0655)
  line L356 (23.8208, 95.0655) -> (37.67, 95.0655)
  line L357 (37.67, 95.0655) -> (37.67, 81.2161)
  line L358 (37.67, 81.2161) -> (23.8208, 81.2161)
  line L359 (23.8208, 81.2161) -> (23.8208, 95.0655)
  line L360 (42.8706, 95.0655) -> (56.72, 95.0655)
  line L361 (56.72, 95.0655) -> (56.72, 81.2161)
  line L362 (56.72, 81.2161) -> (42.8706, 81.2161)
  line L363 (42.8706, 81.2161) -> (42.8706, 95.0655)
  line L364 (61.9206, 95.0655) -> (75.77, 95.0655)
  line L365 (75.77, 95.0655) -> (75.77, 81.2161)
  line L366 (75.77, 81.2161) -> (61.9206, 81.2161)
  line L367 (61.9206, 81.2161) -> (61.9206, 95.0655)
  line L368 (80.9706, 95.0655) -> (94.82, 95.0655)
  line L369 (94.82, 95.0655) -> (94.82, 81.2161)
  line L370 (94.82, 81.2161) -> (80.9706, 81.2161)
  line L371 (80.9706, 81.2161) -> (80.9706, 95.0655)
  line L372 (100.021, 95.0655) -> (113.87, 95.0655)
  line L373 (113.87, 95.0655) -> (113.87, 81.2161)
  line L374 (113.87, 81.2161) -> (100.021, 81.2161)
  line L375 (100.021, 81.2161) -> (100.021, 95.0655)
  line L376 (119.071, 95.0655) -> (132.92, 95.0655)
  line L377 (132.92, 95.0655) -> (132.92, 81.2161)
  line L378 (132.92, 81.2161) -> (119.071, 81.2161)
  line L379 (119.071, 81.2161) -> (119.071, 95.0655)
  line L380 (138.121, 95.0655) -> (151.97, 95.0655)
  line L381 (151.97, 95.0655) -> (151.97, 81.2161)
  line L382 (151.97, 81.2161) -> (138.121, 81.2161)
  line L383 (138.121, 81.2161) -> (138.121, 95.0655)
  line L384 (157.171, 95.0655) -> (171.02, 95.0655)
  line L385 (171.02, 95.0655) -> (171.02, 81.2161)
  line L386 (171.02, 81.2161) -> (157.171, 81.2161)
  line L387 (157.171, 81.2161) -> (157.171, 95.0655)
  line L388 (176.221, 95.0655) -> (190.07, 95.0655)
  line L389 (190.07, 95.0655) -> (190.07, 81.2161)
  line L390 (190.07, 81.2161) -> (176.221, 81.2161)
  line L391 (176.221, 81.2161) -> (176.221, 95.0655)
  line L392 (195.271, 95.0655) -> (209.12, 95.0655)
  line L393 (209.12, 95.0655) -> (209.12, 81.2161)
  line L394 (209.12, 81.2161) -> (195.271, 81.2161)
  line L395 (195.271, 81.2161) -> (195.271, 95.0655)
  line L396 (214.321, 95.0655) -> (228.17, 95.0655)
  line L397 (228.17, 95.0655) -> (228.17, 81.2161)
  line L398 (228.17, 81.2161) -> (214.321, 81.2161)
  line L399 (214.321, 81.2161) -> (214.321, 95.0655)
  line L400 (233.371, 95.0655) -> (247.22, 95.0655)
  line L401 (247.22, 95.0655) -> (247.22, 81.2161)
  line L402 (247.22, 81.2161) -> (233.371, 81.2161)
  line L403 (233.371, 81.2161) -> (233.371, 95.0655)
  line L404 (290.521, 95.0655) -> (304.37, 95.0655)
  line L405 (304.37, 95.0655) -> (304.37, 81.2161)
  line L406 (304.37, 81.2161) -> (290.521, 81.2161)
  line L407 (290.521, 81.2161) -> (290.521, 95.0655)
  arc A0 (307.045, 0.3402) -> (309.0479, 2.3404) centre (307.0479, 2.3402) ccw
  arc A1 (0.096, 2.3404) -> (2.0931, 0.3389) centre (2.096, 2.3389) ccw
  arc A2 (309.0479, 99.8402) -> (307.045, 101.8402) centre (307.0479, 99.8402) ccw
  arc A3 (2.096, 101.8389) -> (0.096, 99.8389) centre (2.096, 99.8389) ccw
  line L408 (221.0479, 101.8399) -> (221.0479, 99.8399)
  line L409 (221.0479, 99.8399) -> (236.0479, 99.8399)
  line L410 (221.0479, 99.8399) -> (206.0479, 99.8399)
  line L411 (221.0479, 99.8399) -> (236.0479, 99.8399) construction
  circle A4 centre (221.0479, 99.8399) radius 1.75
  circle A5 centre (206.0479, 99.8399) radius 1.75
  circle A6 centre (236.0479, 99.8399) radius 1.75
  line L412 (187.907, 40.376) -> (187.907, 59.7445)
  line L413 (187.907, 59.7445) -> (183.1445, 59.7445)
  line L414 (183.1445, 59.7445) -> (183.1445, 78.7061)
  line L415 (183.1445, 78.7061) -> (192.6705, 78.7061)
  line L416 (192.6705, 78.7061) -> (192.6704, 101.8397)
  line L417 (187.907, 40.376) -> (197.432, 40.376)
  line L418 (197.432, 40.376) -> (197.432, 21.6053)
  line L419 (197.432, 21.6053) -> (216.482, 21.6053)
  line L420 (216.482, 21.6053) -> (216.4821, 0.3398)
  line L421 (10.1258, 36.4451) -> (13.276, 36.4451)
  line L422 (33.9259, 36.4451) -> (37.0762, 36.4451)
  line L423 (81.5633, 17.395) -> (84.7136, 17.395)
  line L424 (181.563, 17.395) -> (184.714, 17.395)
  line L425 (253.013, 55.4951) -> (256.162, 55.4951)
  line L426 (276.813, 55.4951) -> (279.964, 55.4951)
  line L427 (282.345, 93.5951) -> (279.196, 93.5951)
  line L428 (258.546, 93.5951) -> (255.396, 93.5951)
  line L429 (49.7953, 0.3391) -> (49.7953, 21.6053)
  line L430 (49.7953, 21.6053) -> (64.0823, 21.6053)
  line L431 (64.0823, 21.6053) -> (64.0823, 40.376)
  line L432 (64.0823, 40.376) -> (73.6073, 40.376)
  line L433 (73.6073, 40.376) -> (73.6073, 59.7445)
  line L434 (73.6073, 59.7445) -> (68.8448, 59.7445)
  line L435 (68.8448, 59.7445) -> (68.8448, 78.7061)
  line L436 (68.8448, 78.7061) -> (59.3203, 78.7061)
  line L437 (59.3203, 78.7061) -> (59.3202, 101.8391)
  point P0 (4.7708, 81.2161)
  point P1 (7.152, 5.0161)
  point P2 (193.4145, 0.3397)
  dimension "d0" = 308.9519
  dimension "d1" = 101.5
  dimension "d12" = 88
  dimension "d13" = 2
  dimension "d14" = 15
  dimension "d15" = 15
  dimension "d16" = 180
  dimension "d20" = 3.5
  dimension "d21" = 3.5
  dimension "d22" = 3.5
extrude "Extrusion5" add sketch "Sketch1" along normal blind 1.4 contours L1 A1 L2 A3 L3 L437 L436 L435 L434 L433 L432 L431 L430 L429
properties part number "case_plate_p3"
